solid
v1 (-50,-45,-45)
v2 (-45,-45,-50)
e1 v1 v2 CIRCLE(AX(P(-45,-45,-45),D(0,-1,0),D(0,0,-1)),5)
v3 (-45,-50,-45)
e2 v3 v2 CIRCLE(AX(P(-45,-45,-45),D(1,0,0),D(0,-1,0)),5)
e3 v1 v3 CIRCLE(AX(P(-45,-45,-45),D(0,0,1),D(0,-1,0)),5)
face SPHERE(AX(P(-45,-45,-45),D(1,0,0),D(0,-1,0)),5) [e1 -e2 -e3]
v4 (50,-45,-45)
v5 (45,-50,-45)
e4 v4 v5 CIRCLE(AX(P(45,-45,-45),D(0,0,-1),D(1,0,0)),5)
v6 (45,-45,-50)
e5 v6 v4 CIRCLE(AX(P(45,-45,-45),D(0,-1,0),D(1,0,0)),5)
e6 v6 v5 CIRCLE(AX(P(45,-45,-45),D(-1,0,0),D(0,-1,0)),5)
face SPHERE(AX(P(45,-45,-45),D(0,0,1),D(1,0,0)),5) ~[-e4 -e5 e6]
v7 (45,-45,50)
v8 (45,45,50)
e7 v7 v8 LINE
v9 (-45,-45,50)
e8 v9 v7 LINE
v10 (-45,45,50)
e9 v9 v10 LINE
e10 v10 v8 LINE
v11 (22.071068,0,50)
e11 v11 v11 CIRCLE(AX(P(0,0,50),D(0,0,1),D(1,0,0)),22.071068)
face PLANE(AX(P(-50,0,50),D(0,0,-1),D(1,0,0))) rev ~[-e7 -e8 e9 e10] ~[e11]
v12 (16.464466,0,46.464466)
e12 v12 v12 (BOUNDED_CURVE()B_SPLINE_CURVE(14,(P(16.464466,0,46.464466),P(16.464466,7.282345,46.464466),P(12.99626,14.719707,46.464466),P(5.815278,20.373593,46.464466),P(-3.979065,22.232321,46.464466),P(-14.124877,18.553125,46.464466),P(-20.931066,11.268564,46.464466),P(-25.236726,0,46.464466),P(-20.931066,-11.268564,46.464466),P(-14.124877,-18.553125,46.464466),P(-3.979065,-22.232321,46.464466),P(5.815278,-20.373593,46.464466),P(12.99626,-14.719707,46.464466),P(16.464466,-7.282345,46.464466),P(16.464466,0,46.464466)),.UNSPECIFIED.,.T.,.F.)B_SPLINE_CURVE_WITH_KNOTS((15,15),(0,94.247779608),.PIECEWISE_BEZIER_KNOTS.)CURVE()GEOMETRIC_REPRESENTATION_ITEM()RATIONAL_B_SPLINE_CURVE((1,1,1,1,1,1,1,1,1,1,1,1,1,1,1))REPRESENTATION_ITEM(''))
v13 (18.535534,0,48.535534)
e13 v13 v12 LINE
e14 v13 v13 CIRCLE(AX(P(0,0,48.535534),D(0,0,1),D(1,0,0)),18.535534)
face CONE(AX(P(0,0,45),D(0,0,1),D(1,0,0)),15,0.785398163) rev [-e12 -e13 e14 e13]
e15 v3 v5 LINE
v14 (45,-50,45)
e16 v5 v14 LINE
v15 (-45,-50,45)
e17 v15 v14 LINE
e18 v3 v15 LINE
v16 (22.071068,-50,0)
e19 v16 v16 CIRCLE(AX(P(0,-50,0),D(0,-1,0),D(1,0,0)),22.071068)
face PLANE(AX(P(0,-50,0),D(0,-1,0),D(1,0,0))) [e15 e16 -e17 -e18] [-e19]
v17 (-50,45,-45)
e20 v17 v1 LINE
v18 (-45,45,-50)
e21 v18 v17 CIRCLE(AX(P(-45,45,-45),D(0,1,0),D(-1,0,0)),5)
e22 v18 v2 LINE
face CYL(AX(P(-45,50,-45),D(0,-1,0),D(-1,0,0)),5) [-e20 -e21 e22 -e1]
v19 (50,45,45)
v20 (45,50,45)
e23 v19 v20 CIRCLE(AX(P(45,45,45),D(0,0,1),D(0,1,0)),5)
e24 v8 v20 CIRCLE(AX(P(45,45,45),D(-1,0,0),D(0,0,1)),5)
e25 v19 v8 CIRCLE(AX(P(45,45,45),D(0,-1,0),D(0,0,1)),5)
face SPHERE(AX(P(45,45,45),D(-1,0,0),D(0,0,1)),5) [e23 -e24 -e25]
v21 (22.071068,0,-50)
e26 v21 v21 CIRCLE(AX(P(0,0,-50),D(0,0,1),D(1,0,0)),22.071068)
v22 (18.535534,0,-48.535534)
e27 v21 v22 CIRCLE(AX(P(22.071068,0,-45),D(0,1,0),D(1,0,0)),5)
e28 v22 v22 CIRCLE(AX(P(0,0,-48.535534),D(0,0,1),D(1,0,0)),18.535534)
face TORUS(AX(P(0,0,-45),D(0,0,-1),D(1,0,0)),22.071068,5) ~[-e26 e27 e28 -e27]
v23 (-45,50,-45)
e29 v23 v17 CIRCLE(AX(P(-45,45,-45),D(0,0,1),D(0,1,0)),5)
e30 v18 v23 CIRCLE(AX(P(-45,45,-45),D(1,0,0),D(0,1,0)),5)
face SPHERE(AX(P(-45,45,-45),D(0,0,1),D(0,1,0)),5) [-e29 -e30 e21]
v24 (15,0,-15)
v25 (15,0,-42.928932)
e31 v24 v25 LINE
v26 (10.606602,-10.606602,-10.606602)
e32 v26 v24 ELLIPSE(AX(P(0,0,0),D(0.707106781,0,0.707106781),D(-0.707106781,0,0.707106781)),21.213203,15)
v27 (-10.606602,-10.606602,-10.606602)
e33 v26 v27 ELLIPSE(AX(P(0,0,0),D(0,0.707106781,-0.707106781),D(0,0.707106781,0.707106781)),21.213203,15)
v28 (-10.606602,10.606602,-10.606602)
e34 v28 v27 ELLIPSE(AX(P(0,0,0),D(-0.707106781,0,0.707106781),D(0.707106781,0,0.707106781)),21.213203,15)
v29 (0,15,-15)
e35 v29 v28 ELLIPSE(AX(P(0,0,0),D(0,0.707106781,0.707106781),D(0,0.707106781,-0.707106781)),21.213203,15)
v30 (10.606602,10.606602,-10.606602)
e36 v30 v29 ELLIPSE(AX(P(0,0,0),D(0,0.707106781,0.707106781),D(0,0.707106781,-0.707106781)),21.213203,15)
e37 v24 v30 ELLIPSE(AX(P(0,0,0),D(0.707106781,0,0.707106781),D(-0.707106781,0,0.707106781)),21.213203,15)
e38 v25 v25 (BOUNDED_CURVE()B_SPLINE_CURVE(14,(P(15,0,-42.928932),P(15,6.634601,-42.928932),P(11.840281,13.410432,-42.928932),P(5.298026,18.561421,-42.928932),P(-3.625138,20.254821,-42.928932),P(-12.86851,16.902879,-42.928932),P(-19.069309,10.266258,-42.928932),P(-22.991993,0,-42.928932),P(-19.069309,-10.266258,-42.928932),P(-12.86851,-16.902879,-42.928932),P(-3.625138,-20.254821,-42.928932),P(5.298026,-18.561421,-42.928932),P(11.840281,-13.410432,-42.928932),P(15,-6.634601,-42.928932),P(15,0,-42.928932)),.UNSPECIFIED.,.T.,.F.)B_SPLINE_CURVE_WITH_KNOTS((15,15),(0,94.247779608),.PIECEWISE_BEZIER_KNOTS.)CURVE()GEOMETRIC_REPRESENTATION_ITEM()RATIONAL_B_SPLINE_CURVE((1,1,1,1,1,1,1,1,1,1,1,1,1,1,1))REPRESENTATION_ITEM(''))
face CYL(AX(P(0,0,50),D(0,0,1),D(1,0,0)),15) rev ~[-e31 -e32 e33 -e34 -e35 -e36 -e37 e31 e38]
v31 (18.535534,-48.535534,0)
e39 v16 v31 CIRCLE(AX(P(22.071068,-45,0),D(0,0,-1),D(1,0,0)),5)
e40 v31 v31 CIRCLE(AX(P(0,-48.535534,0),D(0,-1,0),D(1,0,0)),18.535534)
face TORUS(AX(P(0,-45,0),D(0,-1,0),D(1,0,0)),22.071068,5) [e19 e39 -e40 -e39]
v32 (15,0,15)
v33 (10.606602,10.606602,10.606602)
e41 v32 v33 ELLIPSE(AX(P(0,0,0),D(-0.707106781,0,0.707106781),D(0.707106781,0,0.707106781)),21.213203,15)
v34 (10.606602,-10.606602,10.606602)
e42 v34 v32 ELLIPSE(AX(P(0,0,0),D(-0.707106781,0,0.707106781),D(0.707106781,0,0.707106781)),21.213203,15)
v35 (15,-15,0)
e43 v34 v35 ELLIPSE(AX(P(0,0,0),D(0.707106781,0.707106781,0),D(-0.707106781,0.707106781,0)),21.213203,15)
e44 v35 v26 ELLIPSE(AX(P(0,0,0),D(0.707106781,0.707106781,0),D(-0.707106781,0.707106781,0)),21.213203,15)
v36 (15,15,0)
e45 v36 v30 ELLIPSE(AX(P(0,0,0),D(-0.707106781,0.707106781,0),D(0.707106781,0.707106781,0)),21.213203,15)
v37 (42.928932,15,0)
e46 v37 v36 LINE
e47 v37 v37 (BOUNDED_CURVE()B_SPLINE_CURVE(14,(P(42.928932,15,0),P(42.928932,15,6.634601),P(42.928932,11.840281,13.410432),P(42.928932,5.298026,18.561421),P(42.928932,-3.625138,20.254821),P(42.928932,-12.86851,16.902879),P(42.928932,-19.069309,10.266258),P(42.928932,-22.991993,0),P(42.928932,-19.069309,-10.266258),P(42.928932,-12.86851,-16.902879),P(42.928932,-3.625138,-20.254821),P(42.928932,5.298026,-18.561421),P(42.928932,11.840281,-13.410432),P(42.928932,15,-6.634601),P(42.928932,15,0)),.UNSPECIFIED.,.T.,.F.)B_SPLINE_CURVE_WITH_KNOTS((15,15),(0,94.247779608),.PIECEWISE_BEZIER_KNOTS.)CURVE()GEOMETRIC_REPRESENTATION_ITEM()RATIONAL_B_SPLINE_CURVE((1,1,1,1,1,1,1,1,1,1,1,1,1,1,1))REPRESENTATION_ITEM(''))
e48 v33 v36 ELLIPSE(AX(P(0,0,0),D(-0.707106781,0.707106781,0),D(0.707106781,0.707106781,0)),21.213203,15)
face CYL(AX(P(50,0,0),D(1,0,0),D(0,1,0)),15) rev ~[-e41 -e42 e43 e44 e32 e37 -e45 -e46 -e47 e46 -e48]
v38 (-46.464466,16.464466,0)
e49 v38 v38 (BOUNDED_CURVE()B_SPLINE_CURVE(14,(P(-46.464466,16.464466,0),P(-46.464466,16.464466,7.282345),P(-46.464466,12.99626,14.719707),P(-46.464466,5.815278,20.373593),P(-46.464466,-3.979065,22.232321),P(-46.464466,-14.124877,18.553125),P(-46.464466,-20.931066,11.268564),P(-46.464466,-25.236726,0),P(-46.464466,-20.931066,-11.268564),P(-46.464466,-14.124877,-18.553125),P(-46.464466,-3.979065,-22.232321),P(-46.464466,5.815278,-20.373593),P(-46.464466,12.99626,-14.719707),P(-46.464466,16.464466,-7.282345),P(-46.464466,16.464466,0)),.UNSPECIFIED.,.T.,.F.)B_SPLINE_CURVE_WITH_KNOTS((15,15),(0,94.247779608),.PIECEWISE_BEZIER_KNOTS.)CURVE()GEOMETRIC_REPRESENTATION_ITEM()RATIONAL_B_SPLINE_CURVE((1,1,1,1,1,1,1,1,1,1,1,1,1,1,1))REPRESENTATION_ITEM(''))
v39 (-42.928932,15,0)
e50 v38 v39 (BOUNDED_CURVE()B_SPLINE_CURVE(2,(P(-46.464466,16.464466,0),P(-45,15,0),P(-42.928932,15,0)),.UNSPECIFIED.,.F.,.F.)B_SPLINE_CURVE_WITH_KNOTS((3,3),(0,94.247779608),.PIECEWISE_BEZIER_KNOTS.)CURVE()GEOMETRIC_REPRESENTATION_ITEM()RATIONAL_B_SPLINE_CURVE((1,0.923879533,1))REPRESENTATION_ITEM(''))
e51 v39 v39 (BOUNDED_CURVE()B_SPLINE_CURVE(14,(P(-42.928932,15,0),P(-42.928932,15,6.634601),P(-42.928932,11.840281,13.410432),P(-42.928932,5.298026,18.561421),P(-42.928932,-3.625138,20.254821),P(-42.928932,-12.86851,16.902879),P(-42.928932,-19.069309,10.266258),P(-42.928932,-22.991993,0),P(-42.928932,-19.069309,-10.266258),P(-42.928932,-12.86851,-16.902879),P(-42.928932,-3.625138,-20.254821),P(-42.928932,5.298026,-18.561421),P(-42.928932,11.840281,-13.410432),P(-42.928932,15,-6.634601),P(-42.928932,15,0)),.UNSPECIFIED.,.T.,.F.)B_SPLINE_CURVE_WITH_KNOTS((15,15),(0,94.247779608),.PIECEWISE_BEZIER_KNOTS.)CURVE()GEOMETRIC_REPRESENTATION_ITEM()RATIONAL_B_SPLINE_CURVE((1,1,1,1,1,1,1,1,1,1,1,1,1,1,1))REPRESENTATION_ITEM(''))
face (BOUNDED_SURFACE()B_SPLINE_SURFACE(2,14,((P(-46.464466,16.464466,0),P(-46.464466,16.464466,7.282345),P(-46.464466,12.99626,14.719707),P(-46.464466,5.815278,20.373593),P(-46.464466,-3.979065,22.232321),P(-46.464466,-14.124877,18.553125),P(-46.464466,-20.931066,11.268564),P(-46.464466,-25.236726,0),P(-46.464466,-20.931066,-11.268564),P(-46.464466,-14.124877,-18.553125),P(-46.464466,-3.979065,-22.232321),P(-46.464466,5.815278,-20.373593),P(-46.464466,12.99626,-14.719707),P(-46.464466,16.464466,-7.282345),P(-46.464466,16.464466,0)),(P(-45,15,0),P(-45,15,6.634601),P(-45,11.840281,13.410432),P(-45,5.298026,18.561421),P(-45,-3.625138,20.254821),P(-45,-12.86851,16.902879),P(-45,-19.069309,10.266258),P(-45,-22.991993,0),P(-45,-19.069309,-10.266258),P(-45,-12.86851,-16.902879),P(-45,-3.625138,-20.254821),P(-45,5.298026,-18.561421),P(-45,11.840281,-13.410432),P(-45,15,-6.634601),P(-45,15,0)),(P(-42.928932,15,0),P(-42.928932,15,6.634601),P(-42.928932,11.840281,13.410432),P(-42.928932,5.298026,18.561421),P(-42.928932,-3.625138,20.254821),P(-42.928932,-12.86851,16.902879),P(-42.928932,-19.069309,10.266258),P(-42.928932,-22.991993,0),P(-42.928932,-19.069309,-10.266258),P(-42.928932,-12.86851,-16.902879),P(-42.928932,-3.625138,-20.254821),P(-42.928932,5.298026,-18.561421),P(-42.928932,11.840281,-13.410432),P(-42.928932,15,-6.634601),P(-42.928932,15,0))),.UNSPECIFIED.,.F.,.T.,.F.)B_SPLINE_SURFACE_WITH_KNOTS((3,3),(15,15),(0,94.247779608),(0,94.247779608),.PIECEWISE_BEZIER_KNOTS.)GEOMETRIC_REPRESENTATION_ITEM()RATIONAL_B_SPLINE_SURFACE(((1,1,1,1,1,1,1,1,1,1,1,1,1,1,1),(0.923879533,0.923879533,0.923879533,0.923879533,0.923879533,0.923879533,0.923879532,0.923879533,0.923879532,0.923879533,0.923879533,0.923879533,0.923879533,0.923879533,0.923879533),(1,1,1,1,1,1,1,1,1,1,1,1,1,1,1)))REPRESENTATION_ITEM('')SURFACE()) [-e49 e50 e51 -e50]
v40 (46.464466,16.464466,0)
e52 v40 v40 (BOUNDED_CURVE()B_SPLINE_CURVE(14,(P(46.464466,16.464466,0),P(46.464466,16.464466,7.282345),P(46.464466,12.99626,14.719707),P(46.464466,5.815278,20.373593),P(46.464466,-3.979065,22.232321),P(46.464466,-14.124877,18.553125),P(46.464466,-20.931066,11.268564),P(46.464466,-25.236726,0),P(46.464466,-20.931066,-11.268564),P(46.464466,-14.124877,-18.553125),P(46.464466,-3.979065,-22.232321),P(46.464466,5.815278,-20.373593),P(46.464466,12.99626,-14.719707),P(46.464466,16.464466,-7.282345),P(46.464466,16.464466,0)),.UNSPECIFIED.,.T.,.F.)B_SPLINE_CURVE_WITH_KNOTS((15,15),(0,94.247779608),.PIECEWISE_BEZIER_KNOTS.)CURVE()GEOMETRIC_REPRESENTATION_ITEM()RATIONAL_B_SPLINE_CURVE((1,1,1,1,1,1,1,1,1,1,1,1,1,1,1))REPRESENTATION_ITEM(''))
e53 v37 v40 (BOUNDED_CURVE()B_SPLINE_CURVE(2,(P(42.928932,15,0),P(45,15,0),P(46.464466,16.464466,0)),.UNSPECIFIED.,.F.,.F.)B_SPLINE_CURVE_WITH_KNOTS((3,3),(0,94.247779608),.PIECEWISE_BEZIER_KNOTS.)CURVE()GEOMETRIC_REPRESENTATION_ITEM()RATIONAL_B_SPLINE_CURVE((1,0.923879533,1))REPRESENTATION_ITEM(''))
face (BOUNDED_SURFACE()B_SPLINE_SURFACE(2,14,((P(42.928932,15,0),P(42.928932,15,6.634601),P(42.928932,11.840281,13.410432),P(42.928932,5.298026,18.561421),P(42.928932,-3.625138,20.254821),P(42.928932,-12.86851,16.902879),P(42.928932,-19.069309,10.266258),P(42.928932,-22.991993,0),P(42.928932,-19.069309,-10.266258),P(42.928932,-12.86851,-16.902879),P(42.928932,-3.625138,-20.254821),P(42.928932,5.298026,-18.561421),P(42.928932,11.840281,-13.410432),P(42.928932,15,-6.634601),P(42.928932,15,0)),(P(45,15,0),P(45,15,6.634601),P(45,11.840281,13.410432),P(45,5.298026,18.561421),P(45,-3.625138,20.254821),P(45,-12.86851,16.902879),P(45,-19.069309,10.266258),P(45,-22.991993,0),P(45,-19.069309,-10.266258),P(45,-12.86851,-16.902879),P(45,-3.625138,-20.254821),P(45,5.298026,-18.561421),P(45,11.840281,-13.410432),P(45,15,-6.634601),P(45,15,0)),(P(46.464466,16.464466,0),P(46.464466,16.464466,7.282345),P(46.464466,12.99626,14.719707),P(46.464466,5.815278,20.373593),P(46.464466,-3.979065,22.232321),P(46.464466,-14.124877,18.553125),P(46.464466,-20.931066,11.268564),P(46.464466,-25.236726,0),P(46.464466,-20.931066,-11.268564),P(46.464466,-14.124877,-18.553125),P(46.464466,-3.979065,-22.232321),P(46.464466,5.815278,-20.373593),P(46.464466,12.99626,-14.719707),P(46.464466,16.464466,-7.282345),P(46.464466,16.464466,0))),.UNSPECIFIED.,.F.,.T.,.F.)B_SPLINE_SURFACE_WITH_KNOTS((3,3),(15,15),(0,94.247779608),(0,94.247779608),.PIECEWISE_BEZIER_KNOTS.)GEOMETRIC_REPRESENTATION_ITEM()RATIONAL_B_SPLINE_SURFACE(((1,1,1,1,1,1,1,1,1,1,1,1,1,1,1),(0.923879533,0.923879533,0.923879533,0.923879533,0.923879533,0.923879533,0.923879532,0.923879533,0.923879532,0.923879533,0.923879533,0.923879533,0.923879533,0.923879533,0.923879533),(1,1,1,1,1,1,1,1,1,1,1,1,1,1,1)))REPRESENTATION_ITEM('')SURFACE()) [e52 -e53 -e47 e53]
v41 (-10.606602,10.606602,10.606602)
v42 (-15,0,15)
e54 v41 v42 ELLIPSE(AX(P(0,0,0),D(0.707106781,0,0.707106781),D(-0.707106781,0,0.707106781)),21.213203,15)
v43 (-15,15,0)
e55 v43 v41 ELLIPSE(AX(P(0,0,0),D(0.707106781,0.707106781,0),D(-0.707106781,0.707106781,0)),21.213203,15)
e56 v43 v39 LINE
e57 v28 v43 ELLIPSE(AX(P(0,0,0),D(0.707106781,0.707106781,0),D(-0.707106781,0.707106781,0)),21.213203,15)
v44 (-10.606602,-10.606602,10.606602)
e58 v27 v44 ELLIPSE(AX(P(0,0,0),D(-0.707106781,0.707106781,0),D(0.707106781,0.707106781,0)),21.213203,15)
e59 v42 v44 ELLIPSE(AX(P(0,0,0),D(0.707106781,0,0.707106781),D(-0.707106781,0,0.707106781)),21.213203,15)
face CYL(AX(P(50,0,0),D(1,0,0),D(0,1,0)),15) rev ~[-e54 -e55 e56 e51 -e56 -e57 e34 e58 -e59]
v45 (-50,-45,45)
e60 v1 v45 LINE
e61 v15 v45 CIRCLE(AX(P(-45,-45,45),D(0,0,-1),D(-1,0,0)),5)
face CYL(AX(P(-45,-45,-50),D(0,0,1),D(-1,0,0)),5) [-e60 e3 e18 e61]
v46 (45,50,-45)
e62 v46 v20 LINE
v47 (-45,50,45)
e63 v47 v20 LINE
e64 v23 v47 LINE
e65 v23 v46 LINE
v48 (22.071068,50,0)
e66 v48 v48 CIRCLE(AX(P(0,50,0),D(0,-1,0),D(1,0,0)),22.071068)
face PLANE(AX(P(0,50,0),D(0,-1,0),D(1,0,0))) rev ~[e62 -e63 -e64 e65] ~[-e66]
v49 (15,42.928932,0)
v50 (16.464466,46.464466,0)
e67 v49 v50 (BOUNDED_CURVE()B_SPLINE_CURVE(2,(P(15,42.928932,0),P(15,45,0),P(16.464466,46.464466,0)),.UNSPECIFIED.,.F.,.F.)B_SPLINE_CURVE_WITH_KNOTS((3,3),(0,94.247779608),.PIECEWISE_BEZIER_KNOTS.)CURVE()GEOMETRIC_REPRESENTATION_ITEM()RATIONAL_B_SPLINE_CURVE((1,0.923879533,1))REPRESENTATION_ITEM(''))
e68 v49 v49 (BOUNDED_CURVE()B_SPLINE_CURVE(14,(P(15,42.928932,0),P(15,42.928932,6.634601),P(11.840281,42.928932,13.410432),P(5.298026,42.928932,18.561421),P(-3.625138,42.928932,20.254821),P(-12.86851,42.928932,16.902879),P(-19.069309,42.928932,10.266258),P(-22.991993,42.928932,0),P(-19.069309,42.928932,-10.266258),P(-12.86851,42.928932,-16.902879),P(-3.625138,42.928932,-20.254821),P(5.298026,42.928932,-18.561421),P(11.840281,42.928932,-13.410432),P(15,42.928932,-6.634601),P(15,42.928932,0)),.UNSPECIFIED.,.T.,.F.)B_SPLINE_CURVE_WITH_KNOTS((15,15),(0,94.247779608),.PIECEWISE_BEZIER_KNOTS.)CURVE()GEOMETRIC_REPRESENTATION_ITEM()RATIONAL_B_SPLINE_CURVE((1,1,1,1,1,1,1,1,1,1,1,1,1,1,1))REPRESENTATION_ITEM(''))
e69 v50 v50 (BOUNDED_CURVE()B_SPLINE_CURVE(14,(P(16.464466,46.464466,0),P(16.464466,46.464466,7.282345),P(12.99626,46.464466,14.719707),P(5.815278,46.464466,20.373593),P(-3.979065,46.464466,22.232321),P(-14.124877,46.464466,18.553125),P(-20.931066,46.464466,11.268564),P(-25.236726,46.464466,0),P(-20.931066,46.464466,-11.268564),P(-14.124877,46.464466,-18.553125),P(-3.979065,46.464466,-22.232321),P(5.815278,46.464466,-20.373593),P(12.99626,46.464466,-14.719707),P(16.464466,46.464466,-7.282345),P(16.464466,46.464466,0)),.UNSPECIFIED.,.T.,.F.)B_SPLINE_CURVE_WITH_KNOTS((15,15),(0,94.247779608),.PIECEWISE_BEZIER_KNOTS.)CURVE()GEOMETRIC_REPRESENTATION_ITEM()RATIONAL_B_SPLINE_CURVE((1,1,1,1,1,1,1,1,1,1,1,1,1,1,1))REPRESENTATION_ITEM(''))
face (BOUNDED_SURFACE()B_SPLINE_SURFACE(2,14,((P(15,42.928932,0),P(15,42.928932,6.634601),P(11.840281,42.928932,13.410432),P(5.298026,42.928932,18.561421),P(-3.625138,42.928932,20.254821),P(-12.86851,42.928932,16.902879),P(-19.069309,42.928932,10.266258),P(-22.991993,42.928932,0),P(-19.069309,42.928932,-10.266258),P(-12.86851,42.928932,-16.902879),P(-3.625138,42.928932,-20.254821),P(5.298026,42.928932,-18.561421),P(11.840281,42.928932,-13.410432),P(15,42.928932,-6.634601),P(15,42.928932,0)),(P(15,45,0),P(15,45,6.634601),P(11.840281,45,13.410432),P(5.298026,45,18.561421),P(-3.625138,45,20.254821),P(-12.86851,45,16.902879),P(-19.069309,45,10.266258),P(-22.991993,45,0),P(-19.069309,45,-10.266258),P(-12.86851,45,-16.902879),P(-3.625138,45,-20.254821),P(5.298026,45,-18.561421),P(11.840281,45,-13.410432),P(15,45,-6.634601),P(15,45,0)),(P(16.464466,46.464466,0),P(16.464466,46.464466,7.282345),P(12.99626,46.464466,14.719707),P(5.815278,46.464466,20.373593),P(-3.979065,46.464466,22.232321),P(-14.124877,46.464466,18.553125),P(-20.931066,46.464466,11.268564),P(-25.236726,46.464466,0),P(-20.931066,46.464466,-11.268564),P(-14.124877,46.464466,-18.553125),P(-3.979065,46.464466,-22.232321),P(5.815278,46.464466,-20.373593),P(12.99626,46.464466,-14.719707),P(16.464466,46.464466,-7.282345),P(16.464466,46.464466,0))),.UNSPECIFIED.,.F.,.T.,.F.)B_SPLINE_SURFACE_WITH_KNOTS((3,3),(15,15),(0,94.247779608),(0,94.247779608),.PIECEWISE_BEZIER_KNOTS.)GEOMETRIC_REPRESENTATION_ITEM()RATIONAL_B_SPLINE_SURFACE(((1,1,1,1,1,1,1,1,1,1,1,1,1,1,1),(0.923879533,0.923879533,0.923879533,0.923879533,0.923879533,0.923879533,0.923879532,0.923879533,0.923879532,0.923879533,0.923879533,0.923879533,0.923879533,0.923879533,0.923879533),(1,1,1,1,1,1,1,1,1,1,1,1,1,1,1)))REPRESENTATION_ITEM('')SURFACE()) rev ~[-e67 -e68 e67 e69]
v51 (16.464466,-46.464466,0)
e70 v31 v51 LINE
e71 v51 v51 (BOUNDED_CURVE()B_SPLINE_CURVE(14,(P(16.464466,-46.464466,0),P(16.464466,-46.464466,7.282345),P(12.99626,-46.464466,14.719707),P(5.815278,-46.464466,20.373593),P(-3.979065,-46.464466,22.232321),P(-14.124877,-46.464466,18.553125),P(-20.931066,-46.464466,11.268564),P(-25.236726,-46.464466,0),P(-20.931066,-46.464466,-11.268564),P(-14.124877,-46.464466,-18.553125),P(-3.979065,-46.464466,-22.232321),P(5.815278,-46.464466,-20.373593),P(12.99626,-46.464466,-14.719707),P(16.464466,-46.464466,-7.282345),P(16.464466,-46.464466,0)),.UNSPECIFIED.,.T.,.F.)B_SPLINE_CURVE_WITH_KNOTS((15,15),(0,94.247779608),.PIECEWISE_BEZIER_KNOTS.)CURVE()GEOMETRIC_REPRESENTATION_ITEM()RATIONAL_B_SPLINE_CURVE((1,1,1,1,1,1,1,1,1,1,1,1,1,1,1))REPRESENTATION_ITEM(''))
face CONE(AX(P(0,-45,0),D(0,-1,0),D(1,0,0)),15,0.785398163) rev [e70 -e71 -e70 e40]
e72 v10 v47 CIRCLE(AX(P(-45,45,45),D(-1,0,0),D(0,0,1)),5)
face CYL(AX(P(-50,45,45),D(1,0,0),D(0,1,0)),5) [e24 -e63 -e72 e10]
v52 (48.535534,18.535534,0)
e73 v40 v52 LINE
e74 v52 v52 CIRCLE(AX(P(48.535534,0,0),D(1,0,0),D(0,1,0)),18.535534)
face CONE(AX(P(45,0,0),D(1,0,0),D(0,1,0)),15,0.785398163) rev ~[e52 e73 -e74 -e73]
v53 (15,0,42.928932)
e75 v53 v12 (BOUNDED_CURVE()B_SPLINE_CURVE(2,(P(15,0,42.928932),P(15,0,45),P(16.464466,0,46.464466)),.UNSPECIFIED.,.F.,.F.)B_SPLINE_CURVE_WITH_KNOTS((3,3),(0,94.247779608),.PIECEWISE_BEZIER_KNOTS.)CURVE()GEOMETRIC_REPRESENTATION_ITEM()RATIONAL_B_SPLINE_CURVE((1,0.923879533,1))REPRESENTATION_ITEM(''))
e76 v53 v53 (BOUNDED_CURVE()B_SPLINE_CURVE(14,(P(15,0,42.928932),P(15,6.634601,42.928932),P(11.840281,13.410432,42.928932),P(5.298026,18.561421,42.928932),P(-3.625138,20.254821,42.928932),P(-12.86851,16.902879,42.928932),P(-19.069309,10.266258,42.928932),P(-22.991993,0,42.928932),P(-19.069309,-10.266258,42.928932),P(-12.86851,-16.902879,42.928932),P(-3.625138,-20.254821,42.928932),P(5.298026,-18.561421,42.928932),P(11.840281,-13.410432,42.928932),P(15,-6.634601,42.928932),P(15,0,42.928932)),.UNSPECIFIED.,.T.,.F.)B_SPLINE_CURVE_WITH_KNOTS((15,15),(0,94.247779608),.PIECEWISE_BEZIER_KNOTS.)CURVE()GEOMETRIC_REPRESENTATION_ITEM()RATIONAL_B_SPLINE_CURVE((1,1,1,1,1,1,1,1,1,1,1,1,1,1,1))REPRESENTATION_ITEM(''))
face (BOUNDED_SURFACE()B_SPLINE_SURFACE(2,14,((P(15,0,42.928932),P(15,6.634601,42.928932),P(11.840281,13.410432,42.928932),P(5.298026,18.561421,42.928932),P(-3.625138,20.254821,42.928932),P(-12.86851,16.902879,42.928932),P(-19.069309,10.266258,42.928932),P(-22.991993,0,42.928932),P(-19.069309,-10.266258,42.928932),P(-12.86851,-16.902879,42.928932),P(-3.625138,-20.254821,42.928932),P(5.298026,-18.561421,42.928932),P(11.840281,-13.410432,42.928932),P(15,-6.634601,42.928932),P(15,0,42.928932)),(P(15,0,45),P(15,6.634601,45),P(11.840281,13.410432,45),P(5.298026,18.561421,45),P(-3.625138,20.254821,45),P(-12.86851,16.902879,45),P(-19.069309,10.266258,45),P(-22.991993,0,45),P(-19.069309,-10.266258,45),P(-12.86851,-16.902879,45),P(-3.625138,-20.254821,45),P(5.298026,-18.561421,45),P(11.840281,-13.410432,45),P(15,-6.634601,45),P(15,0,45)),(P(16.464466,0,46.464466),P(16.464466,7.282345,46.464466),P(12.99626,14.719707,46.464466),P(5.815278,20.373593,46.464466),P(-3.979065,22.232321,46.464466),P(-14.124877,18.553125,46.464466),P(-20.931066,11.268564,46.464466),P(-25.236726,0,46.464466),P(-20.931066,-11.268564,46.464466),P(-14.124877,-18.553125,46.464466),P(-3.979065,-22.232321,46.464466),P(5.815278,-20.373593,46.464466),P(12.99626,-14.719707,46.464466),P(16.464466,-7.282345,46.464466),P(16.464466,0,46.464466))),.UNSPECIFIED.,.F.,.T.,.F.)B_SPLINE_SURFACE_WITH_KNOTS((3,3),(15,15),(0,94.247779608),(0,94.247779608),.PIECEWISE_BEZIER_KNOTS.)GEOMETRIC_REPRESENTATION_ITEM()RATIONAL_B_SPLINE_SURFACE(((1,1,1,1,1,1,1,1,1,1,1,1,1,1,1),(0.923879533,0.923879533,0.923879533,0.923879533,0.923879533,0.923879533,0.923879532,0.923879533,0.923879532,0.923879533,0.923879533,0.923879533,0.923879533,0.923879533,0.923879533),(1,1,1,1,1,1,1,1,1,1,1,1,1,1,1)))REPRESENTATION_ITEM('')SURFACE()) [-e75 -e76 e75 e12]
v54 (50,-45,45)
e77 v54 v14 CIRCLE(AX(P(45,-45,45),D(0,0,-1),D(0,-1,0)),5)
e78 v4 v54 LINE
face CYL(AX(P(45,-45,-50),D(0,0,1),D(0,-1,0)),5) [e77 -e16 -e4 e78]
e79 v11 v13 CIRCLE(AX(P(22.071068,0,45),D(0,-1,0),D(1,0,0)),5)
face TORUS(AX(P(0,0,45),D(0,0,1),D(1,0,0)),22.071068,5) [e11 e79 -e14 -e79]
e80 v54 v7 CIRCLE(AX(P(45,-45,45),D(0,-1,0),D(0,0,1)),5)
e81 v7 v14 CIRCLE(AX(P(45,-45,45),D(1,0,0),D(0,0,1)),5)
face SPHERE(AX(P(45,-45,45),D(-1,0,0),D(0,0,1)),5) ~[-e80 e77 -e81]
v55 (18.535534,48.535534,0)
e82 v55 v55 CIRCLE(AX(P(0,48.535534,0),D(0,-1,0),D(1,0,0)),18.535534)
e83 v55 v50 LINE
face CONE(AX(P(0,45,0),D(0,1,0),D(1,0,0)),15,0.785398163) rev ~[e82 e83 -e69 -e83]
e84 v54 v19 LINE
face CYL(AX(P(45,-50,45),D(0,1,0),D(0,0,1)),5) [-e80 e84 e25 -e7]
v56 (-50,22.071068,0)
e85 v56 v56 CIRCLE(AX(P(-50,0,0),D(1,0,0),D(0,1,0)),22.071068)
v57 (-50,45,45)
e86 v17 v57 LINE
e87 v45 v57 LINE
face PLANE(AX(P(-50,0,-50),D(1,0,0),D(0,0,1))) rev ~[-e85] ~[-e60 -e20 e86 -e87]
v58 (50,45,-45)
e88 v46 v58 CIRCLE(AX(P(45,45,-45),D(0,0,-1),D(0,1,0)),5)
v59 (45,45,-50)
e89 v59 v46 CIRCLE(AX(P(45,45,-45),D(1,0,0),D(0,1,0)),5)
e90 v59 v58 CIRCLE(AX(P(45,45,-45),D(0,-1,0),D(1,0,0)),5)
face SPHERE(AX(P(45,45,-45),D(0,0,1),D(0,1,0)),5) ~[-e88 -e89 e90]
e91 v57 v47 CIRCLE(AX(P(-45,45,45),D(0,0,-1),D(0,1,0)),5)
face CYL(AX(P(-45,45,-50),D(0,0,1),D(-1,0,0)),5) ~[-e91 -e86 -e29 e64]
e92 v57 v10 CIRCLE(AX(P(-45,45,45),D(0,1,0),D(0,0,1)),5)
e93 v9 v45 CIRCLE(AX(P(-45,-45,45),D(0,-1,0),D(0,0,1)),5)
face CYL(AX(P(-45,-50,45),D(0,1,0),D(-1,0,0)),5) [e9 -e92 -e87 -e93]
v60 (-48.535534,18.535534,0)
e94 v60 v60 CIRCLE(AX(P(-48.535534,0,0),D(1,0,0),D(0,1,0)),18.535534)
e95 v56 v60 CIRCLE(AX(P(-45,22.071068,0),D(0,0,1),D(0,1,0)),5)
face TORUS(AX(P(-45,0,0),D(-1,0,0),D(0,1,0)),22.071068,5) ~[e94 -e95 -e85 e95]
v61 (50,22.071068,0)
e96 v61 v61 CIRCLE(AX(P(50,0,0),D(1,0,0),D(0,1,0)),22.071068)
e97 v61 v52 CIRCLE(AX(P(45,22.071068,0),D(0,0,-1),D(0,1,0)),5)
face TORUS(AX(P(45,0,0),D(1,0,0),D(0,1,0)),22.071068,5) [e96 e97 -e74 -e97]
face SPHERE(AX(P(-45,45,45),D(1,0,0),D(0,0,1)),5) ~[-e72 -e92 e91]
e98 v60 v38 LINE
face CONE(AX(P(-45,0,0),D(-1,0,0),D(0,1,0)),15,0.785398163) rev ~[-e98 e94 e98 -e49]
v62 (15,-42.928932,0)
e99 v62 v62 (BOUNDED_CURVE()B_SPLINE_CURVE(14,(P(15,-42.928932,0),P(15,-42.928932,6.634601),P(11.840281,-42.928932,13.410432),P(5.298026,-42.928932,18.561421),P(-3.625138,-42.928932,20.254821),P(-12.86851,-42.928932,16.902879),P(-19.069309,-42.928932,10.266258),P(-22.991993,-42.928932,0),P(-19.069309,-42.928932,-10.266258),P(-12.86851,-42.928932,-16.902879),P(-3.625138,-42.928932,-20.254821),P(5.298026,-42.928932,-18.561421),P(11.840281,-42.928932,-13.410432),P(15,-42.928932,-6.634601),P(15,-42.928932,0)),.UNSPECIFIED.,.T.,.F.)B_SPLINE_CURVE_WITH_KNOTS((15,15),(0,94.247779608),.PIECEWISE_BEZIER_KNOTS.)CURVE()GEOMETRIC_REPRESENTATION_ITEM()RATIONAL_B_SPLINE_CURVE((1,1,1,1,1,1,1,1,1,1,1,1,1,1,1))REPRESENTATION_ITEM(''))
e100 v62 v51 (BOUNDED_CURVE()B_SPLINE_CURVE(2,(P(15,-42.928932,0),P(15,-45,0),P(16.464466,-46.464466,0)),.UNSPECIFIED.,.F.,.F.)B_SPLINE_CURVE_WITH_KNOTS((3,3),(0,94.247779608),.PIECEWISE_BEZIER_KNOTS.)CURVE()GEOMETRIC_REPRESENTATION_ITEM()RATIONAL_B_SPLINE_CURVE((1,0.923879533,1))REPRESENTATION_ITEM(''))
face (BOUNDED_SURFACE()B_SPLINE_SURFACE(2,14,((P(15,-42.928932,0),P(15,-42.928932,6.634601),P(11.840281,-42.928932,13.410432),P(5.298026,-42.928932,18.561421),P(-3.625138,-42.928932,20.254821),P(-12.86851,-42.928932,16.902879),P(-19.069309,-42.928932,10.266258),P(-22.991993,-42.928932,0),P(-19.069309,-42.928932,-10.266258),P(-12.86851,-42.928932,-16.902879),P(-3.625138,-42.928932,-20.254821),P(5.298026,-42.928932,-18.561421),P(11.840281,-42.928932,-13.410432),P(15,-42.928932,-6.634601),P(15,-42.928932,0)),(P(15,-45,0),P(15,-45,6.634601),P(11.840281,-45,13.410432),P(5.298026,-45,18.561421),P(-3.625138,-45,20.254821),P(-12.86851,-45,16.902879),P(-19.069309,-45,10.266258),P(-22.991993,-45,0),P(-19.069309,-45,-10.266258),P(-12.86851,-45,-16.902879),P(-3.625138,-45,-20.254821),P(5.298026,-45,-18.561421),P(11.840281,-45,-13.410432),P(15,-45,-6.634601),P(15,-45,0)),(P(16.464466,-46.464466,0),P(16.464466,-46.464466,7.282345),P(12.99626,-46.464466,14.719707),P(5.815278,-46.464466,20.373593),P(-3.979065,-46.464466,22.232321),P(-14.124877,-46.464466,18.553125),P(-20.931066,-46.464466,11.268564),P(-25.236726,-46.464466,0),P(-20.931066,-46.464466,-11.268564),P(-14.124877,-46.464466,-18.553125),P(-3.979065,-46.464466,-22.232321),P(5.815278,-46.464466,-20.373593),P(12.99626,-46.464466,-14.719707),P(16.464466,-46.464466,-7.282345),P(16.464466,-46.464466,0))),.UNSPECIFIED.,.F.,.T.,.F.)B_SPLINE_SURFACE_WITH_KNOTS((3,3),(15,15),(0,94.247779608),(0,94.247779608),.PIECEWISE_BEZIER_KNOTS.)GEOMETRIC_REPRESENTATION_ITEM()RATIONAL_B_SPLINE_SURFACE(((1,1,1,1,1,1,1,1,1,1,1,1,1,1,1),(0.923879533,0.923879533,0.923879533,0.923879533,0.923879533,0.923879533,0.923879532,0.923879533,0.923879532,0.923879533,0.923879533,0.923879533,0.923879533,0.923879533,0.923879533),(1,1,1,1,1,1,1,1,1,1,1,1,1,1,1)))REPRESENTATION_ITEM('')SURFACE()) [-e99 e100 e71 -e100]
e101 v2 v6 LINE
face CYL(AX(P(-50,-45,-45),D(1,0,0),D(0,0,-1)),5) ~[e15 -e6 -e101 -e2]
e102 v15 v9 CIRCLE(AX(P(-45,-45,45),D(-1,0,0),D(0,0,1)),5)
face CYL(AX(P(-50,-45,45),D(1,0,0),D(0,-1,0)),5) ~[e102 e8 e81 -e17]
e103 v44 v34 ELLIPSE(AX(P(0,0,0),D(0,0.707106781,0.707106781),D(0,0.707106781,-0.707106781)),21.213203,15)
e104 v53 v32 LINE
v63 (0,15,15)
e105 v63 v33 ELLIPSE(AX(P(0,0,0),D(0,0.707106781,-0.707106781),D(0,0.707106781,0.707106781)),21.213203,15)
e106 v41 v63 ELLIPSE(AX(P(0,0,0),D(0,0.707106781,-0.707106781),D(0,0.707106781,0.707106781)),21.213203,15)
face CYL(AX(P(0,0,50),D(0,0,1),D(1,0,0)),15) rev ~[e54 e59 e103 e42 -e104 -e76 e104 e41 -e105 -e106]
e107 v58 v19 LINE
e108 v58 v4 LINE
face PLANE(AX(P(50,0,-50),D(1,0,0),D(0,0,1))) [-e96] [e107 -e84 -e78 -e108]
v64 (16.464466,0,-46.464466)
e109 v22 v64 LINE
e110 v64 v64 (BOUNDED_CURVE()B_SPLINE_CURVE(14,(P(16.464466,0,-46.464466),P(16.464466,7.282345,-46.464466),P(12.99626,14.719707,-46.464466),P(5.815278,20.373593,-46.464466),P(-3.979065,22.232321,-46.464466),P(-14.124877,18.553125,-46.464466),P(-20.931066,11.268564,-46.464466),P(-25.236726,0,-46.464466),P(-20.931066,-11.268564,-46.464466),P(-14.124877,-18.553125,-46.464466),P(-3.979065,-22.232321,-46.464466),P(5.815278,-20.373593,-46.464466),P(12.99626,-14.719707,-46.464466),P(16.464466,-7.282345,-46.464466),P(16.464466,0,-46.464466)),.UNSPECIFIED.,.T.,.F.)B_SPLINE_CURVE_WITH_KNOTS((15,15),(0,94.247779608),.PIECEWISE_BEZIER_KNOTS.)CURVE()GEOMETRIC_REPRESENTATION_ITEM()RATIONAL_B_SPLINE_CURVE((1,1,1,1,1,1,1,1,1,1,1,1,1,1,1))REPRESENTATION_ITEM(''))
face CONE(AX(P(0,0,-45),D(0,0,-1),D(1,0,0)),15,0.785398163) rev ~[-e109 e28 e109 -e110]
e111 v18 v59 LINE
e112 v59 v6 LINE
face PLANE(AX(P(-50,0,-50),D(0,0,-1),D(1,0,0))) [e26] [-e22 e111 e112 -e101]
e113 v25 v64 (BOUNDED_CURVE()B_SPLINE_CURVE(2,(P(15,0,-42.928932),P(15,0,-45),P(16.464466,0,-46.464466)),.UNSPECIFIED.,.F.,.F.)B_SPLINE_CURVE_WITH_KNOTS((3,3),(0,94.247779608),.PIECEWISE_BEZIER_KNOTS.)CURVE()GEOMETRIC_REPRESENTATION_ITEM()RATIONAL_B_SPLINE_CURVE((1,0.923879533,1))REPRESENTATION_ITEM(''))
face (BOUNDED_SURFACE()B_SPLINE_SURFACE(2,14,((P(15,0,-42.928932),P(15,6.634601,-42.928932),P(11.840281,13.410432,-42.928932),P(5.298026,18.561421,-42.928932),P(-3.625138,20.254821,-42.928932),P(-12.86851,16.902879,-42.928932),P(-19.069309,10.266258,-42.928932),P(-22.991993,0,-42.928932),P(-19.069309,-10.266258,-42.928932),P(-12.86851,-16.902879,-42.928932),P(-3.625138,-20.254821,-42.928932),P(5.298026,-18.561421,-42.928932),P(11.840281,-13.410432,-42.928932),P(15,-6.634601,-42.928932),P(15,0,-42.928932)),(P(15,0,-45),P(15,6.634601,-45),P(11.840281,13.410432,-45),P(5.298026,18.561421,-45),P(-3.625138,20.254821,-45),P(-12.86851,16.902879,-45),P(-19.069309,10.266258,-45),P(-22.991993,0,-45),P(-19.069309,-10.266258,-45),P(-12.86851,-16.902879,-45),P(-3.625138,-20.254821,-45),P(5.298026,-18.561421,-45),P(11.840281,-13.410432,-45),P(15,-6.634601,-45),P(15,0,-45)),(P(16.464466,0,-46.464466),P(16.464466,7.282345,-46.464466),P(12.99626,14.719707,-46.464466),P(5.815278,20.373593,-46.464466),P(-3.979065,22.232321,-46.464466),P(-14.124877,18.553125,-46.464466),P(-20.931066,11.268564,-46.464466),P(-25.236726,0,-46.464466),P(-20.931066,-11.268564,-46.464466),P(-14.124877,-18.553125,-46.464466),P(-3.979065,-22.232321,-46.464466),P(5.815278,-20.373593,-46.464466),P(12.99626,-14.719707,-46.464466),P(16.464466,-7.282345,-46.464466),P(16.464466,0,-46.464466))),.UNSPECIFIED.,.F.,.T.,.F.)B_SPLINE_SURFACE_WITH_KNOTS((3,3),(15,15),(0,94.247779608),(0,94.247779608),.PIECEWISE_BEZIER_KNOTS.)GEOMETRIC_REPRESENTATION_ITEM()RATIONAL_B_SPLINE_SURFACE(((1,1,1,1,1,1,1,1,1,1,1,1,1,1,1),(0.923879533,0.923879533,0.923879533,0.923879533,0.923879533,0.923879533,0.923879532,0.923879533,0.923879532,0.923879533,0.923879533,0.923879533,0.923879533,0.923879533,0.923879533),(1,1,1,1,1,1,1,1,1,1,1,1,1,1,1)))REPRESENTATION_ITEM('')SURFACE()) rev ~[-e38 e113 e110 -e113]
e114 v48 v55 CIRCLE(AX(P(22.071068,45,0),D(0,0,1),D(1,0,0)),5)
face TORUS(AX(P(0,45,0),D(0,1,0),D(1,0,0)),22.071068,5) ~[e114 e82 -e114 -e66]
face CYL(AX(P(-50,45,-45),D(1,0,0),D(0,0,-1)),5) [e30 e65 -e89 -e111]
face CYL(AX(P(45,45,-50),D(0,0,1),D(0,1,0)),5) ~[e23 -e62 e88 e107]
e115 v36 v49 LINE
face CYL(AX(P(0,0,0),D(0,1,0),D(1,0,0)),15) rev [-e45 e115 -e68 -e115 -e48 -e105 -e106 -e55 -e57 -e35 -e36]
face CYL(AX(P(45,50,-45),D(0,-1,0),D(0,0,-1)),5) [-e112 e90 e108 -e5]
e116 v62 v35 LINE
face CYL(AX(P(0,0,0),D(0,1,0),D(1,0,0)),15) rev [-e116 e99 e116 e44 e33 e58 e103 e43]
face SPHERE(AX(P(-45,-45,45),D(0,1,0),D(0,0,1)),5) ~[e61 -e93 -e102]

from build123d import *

# Parameters (mm, degrees)
F0_W     = 100
F0_H     = 100
F0_R     = 15
F1_DEPTH = 50
F2_R     = 15
F3_DEPTH = 100.001
F4_R     = 15
F5_DEPTH = 100.001
F6_R     = 5
F7_SIZE  = 5
F8_R     = 5


with BuildPart() as f1:
    # F0 (on Front) → F1 (new body, symmetric)
    with BuildSketch(Plane.XZ):
        Rectangle(F0_W, F0_H)
        Circle(F0_R, mode=Mode.SUBTRACT)
    extrude(amount=F1_DEPTH, both=True)

    # F2 (on face) → F3 (cut, through all)
    with BuildSketch(Plane.XY.offset(50)):
        Circle(F2_R)
    extrude(amount=-F3_DEPTH, mode=Mode.SUBTRACT)

    # F4 (on face) → F5 (cut, through all)
    with BuildSketch(Plane.YZ.offset(50)):
        Circle(F4_R)
    extrude(amount=-F5_DEPTH, mode=Mode.SUBTRACT)

    # F6
    f6_edges = [f1.edges().sort_by_distance(p)[0] for p in [
        (0, 50, 50),
        (-50, 0, 50),
        (0, -50, 50),
        (50, 0, 50),
        (50, 50, 0),
        (-50, 50, 0),
        (0, 50, -50),
        (50, -50, 0),
        (50, 0, -50),
        (0, -50, -50),
        (-50, -50, 0),
        (-50, 0, -50),
    ]]
    fillet(f6_edges, radius=F6_R)

    # F7
    f7_edges = [f1.edges().sort_by_distance(p)[0] for p in [
        (-15, 0, 50),
        (50, -15, 0),
        (-15, -50, 0),
        (-15, 0, -50),
        (-50, -15, 0),
        (-15, 50, 0),
    ]]
    chamfer(f7_edges, length=F7_SIZE)

    # F8
    f8_edges = [f1.edges().sort_by_distance(p)[0] for p in [
        (-20, 0, 50),
        (17.5, 0, 47.5),
        (-15, 0, 45),
        (-50, -20, 0),
        (-45, -15, 0),
        (-15, -45, 0),
        (-20, -50, 0),
        (50, -20, 0),
        (45, -15, 0),
        (-20, 50, 0),
        (-15, 45, 0),
        (-20, 0, -50),
        (-15, 0, -45),
    ]]
    fillet(f8_edges, radius=F8_R)


solid = f1.part
